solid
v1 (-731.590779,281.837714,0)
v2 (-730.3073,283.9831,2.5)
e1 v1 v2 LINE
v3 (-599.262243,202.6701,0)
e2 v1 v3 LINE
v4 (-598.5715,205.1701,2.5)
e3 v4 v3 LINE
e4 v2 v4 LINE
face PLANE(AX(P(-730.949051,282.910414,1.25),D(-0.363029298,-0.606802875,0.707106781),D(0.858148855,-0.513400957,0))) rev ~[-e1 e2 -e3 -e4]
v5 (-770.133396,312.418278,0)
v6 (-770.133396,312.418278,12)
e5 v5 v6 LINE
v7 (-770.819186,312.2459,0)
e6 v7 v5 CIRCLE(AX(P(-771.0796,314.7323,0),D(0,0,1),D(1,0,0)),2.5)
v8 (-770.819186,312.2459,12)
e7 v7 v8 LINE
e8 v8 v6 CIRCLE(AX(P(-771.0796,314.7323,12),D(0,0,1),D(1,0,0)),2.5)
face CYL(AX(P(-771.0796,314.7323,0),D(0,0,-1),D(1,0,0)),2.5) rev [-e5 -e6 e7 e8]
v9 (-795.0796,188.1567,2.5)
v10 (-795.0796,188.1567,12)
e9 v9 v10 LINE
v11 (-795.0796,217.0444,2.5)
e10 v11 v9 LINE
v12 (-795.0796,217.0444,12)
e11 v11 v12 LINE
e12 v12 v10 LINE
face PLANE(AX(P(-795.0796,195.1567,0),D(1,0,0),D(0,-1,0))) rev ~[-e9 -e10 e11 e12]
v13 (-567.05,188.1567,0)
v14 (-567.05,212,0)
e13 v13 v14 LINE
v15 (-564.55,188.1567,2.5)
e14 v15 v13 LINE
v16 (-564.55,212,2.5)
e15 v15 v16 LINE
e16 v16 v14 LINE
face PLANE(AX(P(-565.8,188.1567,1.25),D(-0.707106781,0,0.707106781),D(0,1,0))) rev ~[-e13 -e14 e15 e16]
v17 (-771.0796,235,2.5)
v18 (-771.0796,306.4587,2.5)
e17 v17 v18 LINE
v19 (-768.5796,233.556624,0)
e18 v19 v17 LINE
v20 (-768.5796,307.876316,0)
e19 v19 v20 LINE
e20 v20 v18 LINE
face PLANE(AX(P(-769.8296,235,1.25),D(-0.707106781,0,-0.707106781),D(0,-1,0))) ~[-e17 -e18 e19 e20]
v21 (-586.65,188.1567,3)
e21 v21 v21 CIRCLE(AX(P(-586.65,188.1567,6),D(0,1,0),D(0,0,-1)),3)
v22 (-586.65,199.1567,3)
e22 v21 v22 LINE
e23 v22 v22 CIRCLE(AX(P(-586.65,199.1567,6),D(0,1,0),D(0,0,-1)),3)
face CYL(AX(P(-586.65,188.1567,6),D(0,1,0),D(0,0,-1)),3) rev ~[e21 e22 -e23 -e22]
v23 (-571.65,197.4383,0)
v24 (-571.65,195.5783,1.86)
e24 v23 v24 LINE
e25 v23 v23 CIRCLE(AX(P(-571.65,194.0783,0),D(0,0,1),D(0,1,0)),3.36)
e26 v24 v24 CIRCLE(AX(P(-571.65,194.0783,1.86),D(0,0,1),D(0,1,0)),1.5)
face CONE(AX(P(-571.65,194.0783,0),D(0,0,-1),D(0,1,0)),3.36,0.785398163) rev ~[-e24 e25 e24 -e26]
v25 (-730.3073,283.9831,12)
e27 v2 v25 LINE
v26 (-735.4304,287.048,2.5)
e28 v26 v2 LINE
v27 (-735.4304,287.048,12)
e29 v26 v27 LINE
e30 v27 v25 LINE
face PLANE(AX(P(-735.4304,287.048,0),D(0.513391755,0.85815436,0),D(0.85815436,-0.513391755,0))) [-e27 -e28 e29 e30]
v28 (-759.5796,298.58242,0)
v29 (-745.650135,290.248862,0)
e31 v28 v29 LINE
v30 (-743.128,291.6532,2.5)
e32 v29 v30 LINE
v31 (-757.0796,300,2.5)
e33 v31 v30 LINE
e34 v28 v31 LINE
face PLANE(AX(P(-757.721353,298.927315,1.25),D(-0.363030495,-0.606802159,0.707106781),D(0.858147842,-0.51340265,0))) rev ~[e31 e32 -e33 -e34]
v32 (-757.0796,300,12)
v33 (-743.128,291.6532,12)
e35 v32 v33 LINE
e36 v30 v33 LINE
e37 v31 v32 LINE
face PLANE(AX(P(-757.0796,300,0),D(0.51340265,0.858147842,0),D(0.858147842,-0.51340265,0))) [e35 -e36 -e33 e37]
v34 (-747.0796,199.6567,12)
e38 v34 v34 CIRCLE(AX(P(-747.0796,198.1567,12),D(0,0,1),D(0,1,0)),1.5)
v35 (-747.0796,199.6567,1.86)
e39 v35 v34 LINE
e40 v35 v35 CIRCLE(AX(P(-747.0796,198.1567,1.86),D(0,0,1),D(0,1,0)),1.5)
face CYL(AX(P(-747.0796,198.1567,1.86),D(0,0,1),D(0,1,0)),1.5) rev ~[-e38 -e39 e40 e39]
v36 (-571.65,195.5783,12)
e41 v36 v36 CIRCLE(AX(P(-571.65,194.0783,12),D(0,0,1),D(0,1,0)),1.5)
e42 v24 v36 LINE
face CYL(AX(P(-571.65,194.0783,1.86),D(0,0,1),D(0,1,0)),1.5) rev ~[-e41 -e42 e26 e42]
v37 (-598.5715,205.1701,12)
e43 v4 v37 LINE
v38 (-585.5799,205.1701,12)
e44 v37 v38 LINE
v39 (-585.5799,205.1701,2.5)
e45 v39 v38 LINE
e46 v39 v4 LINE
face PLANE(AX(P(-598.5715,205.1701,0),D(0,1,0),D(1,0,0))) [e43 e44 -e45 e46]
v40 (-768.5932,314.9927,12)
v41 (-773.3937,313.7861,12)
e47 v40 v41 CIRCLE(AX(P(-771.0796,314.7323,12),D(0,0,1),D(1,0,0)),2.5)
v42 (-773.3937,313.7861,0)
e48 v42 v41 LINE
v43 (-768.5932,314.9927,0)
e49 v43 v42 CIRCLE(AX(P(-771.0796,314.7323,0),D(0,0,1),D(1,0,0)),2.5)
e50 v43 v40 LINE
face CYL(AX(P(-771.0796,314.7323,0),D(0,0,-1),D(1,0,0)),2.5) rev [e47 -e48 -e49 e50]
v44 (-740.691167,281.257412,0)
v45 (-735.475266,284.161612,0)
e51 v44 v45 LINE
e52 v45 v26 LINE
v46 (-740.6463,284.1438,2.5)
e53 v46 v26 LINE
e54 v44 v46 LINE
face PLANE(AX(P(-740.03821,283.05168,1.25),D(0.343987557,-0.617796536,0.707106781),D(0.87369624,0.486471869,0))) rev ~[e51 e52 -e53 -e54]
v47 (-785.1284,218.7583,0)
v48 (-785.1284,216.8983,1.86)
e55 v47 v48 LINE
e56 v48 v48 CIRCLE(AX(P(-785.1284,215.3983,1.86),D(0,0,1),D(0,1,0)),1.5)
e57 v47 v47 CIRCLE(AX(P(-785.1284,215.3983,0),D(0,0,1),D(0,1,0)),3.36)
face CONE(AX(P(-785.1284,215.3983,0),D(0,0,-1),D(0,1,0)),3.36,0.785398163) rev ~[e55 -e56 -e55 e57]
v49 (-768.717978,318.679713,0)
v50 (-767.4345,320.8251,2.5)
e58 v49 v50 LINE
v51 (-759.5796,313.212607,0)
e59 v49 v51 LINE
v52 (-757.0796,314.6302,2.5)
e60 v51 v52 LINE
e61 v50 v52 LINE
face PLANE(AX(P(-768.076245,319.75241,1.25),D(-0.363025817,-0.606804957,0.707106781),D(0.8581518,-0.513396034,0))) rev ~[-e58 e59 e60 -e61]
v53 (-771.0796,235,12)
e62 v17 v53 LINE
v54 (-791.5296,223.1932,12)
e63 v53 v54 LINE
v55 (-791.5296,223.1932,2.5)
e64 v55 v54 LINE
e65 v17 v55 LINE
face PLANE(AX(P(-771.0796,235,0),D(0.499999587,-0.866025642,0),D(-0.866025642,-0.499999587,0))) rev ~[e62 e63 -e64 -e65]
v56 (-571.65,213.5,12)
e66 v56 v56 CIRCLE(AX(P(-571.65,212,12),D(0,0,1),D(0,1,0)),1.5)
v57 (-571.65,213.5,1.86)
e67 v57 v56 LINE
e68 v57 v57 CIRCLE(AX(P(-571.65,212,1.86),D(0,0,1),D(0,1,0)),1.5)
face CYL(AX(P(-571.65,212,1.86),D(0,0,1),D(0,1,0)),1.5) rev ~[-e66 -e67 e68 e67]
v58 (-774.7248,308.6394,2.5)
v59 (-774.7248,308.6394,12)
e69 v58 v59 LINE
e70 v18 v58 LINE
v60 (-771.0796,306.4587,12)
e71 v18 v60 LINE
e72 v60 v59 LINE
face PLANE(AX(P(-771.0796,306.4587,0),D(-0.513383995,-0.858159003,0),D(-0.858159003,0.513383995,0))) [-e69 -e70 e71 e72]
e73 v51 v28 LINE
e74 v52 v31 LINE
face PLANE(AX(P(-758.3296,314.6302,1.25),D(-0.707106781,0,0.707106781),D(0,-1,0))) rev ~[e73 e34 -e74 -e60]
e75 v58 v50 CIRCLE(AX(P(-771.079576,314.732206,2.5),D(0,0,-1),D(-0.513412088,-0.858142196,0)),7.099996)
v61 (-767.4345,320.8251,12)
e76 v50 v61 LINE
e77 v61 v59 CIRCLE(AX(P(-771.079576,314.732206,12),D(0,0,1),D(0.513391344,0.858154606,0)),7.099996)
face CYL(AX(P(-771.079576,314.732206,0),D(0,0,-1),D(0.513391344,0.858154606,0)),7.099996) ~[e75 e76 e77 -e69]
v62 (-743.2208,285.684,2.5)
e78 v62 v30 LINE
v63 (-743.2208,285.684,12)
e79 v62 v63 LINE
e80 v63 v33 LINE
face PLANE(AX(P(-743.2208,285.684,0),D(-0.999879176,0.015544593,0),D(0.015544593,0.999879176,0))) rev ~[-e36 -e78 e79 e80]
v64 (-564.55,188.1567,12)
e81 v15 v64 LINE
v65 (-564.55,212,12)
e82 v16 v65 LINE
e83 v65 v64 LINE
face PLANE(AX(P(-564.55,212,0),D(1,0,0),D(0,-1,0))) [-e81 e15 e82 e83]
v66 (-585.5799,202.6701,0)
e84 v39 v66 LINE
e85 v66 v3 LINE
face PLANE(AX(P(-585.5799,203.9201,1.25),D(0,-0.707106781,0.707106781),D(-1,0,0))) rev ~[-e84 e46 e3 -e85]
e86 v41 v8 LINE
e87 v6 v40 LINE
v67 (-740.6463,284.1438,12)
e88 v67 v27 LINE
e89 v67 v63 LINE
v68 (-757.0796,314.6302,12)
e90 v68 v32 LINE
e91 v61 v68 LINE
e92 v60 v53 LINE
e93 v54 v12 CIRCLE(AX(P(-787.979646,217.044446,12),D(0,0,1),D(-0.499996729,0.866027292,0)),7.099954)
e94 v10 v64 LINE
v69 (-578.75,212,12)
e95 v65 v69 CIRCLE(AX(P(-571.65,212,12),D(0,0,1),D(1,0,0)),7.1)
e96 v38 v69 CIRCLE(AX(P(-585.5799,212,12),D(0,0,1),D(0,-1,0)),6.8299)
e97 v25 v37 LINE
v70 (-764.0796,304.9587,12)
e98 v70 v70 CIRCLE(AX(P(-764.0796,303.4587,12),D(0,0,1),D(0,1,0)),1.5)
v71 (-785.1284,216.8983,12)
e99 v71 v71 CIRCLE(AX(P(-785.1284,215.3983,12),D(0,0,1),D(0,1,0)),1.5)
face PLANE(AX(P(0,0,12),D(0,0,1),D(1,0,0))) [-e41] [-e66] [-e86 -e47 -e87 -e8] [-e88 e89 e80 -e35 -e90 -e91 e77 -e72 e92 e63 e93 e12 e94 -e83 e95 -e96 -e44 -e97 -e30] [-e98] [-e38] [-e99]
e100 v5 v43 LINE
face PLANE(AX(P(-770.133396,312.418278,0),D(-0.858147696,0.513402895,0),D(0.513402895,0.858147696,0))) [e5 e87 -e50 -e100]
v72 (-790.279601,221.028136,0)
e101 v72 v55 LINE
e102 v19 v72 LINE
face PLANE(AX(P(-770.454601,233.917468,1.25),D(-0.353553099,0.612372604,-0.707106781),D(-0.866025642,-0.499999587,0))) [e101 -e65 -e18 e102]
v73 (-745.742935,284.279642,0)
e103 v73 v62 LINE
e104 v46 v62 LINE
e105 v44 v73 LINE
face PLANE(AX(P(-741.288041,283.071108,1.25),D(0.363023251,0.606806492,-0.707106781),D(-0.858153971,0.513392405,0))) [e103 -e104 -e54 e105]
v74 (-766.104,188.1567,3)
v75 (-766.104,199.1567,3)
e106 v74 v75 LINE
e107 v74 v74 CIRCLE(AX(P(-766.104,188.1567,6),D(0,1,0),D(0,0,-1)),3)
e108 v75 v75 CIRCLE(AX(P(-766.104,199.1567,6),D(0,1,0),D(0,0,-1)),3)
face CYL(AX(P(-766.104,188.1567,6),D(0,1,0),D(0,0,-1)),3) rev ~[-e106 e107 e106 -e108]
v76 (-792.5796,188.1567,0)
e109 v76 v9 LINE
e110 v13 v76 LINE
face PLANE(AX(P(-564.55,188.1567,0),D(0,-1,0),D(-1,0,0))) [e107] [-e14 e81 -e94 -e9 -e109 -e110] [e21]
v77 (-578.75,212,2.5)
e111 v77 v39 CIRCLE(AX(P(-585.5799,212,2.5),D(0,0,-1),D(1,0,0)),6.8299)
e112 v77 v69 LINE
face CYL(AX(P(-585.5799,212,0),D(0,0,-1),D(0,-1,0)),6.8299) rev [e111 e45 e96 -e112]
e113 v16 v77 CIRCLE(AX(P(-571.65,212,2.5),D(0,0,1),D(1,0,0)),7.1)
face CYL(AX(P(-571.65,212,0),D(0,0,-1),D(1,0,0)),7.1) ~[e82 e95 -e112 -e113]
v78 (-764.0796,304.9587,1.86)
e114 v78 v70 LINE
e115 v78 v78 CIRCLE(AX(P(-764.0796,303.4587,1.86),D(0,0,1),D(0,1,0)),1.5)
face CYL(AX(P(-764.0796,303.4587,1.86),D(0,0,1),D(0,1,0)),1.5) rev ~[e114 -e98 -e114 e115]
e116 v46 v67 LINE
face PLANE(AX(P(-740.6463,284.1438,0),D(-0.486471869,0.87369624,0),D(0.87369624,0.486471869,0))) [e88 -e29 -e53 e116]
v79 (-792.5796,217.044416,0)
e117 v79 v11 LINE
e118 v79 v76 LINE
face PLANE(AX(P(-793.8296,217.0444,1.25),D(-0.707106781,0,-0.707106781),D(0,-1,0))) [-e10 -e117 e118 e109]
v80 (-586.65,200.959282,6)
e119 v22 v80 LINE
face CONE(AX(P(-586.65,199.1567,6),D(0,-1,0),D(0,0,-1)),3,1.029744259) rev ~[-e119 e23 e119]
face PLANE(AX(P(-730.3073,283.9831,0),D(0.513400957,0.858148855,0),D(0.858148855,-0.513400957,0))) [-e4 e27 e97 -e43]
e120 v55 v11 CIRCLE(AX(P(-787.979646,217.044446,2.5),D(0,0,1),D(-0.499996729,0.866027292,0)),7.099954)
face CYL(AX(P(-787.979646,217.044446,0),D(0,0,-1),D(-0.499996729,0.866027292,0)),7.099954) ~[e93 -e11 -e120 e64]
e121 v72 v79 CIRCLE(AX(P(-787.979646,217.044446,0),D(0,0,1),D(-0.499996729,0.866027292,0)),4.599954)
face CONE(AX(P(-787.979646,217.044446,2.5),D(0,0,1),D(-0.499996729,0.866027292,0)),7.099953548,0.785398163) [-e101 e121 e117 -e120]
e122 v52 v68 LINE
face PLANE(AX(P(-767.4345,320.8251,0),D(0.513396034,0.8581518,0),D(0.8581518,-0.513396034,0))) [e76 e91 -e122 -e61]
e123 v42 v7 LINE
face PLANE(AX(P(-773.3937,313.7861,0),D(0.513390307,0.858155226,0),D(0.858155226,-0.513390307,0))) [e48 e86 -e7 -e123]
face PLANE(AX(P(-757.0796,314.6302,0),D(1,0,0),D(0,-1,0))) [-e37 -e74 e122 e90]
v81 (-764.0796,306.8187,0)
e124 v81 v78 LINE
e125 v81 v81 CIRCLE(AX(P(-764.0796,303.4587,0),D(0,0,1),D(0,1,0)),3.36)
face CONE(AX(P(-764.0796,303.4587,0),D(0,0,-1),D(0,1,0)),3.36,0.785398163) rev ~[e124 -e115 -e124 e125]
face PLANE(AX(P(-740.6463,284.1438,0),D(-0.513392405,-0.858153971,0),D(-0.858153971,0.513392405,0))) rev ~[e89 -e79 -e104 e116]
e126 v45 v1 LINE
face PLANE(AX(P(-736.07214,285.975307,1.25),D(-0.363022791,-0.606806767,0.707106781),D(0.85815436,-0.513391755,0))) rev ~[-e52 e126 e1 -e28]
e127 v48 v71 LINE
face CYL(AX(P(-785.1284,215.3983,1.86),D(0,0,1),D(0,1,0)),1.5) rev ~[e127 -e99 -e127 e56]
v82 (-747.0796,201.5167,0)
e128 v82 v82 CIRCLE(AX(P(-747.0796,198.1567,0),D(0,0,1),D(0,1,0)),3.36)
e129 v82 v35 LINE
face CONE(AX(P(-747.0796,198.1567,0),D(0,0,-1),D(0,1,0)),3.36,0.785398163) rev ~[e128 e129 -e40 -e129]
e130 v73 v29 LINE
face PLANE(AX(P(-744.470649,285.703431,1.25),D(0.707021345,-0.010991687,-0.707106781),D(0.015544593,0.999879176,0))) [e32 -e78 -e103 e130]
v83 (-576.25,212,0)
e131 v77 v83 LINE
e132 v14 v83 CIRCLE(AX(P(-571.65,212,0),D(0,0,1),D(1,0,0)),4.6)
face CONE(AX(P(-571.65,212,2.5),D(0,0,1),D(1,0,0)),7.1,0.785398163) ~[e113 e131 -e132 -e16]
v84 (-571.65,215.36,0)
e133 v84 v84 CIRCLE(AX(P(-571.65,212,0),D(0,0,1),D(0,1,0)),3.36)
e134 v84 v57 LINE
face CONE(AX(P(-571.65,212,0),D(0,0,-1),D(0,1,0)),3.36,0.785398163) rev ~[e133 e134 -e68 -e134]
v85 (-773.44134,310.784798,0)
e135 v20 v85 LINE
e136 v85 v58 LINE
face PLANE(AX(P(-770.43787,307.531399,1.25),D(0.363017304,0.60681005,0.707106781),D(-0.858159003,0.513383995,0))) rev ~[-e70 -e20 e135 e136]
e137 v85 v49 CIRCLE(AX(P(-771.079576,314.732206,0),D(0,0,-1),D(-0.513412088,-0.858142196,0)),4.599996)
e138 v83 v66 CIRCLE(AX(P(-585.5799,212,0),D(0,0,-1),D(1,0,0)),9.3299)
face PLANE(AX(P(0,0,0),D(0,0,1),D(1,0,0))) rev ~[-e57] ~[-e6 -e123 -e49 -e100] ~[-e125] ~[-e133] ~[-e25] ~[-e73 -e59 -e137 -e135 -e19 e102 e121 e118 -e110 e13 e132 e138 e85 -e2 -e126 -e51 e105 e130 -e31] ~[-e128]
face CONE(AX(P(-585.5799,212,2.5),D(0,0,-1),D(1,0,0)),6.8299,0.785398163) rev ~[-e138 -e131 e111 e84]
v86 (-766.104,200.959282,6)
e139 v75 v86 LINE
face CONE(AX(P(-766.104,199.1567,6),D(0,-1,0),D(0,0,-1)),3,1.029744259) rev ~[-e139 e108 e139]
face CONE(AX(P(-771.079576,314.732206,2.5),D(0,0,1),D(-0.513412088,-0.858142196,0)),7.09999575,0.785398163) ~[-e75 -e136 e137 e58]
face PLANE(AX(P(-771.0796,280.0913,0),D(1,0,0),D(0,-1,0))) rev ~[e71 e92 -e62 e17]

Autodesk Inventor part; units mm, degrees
ref_plane "YZ Plane" through (0, 0, 0) normal (1, 0, 0) x (0, 1, 0)
ref_plane "XZ Plane" through (0, 0, 0) normal (0, 1, 0) x (-1, 0, 0)
ref_plane "XY Plane" through (0, 0, 0) normal (0, 0, 1) x (1, 0, 0)
sketch "Sketch3" plane through (0, 0, 0) normal (0, 0, 1) x (1, 0, 0)
  circle A0 centre (367.816, 50) radius 50 construction
  line L0 (367.816, 0) -> (512.7041, 0) construction
  line L1 (367.816, 50) -> (512.7041, 50) construction
  line L2 (367.816, 100) -> (512.7041, 100) construction
  line L3 (367.816, 50) -> (342.816, 6.6987) construction
  line L4 (367.816, 50) -> (324.5147, 25) construction
  line L5 (367.816, 50) -> (324.5147, 75) construction
  line L6 (342.816, 93.3013) -> (367.816, 50) construction
  line L7 (392.816, 93.3013) -> (367.816, 50) construction
  line L8 (411.1173, 75) -> (367.816, 50) construction
  line L9 (411.1173, 25) -> (367.816, 50) construction
  line L10 (392.816, 6.6987) -> (367.816, 50) construction
  line L11 (367.816, 0) -> (367.816, 100) construction
  line L12 (417.816, 50) -> (367.816, 50) construction
  line L13 (341.6361, 0) -> (341.6361, 100) construction
  line L14 (315.4561, 0) -> (315.4561, 100) construction
  line L15 (289.2762, 0) -> (289.2762, 100) construction
  line L16 (263.0963, 0) -> (263.0963, 100) construction
  line L17 (236.9163, 0) -> (236.9163, 100) construction
  line L18 (210.7364, 0) -> (210.7364, 100) construction
  line L19 (184.5564, 0) -> (184.5564, 100) construction
  line L20 (158.3765, 0) -> (158.3765, 100) construction
  circle A1 centre (315.4561, 50) radius 50 construction
  circle A2 centre (341.6361, 50) radius 50 construction
  circle A3 centre (289.2762, 50) radius 50 construction
  circle A4 centre (263.0963, 50) radius 50 construction
  circle A5 centre (236.9163, 50) radius 50 construction
  circle A6 centre (210.7364, 50) radius 50 construction
  line L21 (392.816, 6.6987) -> (512.7041, 6.6987) construction
  line L22 (411.1173, 25) -> (512.7041, 25) construction
  line L23 (411.1173, 75) -> (512.7041, 75) construction
  line L24 (411.1173, 75) -> (512.7041, 75) construction
  line L25 (392.816, 93.3013) -> (512.7041, 93.3013) construction
  line L26 (358.7574, 75) -> (339.2762, 50) construction
  line L27 (339.2762, 50) -> (306.3975, 25) construction
  line L28 (306.3975, 25) -> (261.9163, 6.6987) construction
  line L29 (261.9163, 6.6987) -> (210.7364, 0) construction
  line L30 (105.3682, -12.9392) -> (105.3682, 124.4333) construction
  line L31 (21.25, 0) -> (21.25, 12)
  line L32 (35.45, 12) -> (35.45, -11.8433)
  arc A7 (0, 0) -> (6.625, -9.8433) centre (10.625, 0) ccw
  arc A8 (14.625, -9.8433) -> (21.25, 0) centre (10.625, 0) ccw
  line L33 (35.45, -11.8433) -> (14.625, -11.8433)
  line L34 (6.625, -11.8433) -> (-195.0796, -11.8433)
  circle A9 centre (-144.26, 100.8473) radius 12.875 construction
  line L35 (6.625, -11.8433) -> (6.625, -9.8433)
  line L36 (14.625, -11.8433) -> (14.625, -9.8433)
  line L37 (411.1173, 75) -> (158.3765, 75) construction
  line L38 (367.816, 100) -> (158.3765, 100) construction
  line L39 (417.816, 50) -> (158.3765, 50) construction
  line L40 (411.1173, 25) -> (158.3765, 25) construction
  line L41 (392.816, 6.6987) -> (158.3765, 6.6987) construction
  line L42 (392.816, 93.3013) -> (158.3765, 93.3013) construction
  line L43 (358.7574, 75) -> (366.6361, 93.3013) construction
  line L44 (366.6361, 93.3013) -> (367.816, 100) construction
  spline S0 degree 4 poles (-157.0796, 100) (-157.0796, 88.9946) (-147.011, 72.6811) (-131.8577, 48.7932) (-88.4777, 17.6268) (-50.0176, 3.937) (-18.8717, 0) (0, 0) knots 0 0 0 0 0 0.264547 0.457223 0.66608 1 1 1 1 1
  line L45 (-157.0796, 100) -> (-157.0796, 38) construction
  line L46 (0, 0) -> (-157.0796, 0) construction
  line L47 (-144.26, 100.8473) -> (-157.135, 100.8473) construction
  circle A10 centre (-146.4546, 100) radius 10.625 construction
  line L48 (-146.4546, 100) -> (-157.0796, 100) construction
  line L49 (-141.0754, 84.4005) -> (-135.6205, 93.5183) construction
  line L50 (-141.0796, 132.0528) -> (-171.0796, 149.3733) construction
  line L51 (-171.0796, 149.3733) -> (-201.0796, 132.0528) construction
  line L52 (-141.0754, 84.4005) -> (-99.2801, 84.4005) construction
  line L53 (-201.0796, 132.0528) -> (-201.0796, 97.4118) construction
  line L54 (-201.0796, 97.4118) -> (-171.0796, 80.0913) construction
  line L55 (0, 0) -> (-157.0796, 93.9753) construction
  line L56 (-135.6205, 93.5183) -> (-137.3368, 94.5451) construction
  line L57 (-137.3368, 94.5451) -> (-143.2815, 84.6085) construction
  line L58 (-137.3368, 94.5451) -> (-171.0796, 114.7323) construction
  line L59 (-201.0796, 132.0528) -> (-171.0796, 114.7323) construction
  arc A11 (-137.3368, 94.5451) -> (-144.7045, 143.8948) centre (-171.0796, 114.7323) ccw construction
  arc A12 (-142.7917, 85.4273) -> (-147.1443, 147.6882) centre (-171.0796, 114.7323) ccw construction
  line L60 (-171.0796, 80.0913) -> (-171.0796, 35)
  circle A13 centre (-171.0796, 114.7323) radius 2.5 construction
  arc A14 (-167.4345, 120.8251) -> (-174.7248, 108.6394) centre (-171.0796, 114.7323) ccw construction
  line L61 (-167.4345, 120.8251) -> (-157.0796, 114.6302) construction
  line L62 (-171.0796, 80.0913) -> (-171.0796, 106.4587)
  line L63 (-171.0796, 106.4587) -> (-174.7248, 108.6394) construction
  line L64 (-171.0796, 35) -> (-191.5296, 23.1932)
  arc A15 (-191.5296, 23.1932) -> (-195.0796, 17.0444) centre (-187.9796, 17.0444) ccw
  line L65 (-195.0796, 17.0444) -> (-195.0796, -11.8433)
  arc A16 (35.45, 12) -> (21.25, 12) centre (28.35, 12) ccw
  line L66 (-157.0796, 114.6302) -> (-157.0796, 99.9865) construction
  circle A17 centre (-164.0796, 103.4587) radius 2.5
  line L67 (-171.0796, 103.4587) -> (-157.0796, 103.4587) construction
  circle A18 centre (-185.1284, 15.3983) radius 2.5
  line L68 (-185.1284, 15.3983) -> (-194.1284, 20.5944) construction
  circle A19 centre (-6, -5.9217) radius 2.5
  line L69 (-6, -11.8433) -> (-6, 0) construction
  circle A20 centre (28.35, 12) radius 2.5
  circle A21 centre (28.35, -5.9217) radius 2.5
  line L70 (-167.4345, 320.8251) -> (-157.0796, 314.6302) construction
  arc A22 (-167.4345, 320.8251) -> (-174.7248, 308.6394) centre (-171.0796, 314.7323) ccw construction
  circle A23 centre (-171.0796, 314.7323) radius 2.5 construction
  line L71 (-171.0796, 280.0913) -> (-171.0796, 306.4587)
  line L72 (-171.0796, 306.4587) -> (-174.7248, 308.6394) construction
  line L73 (-157.0796, 314.6302) -> (-157.0796, 299.9865) construction
  circle A24 centre (-164.0796, 303.4587) radius 2.5
  spline S1 degree 4 poles (-157.0796, 300) (-157.0796, 288.9946) (-147.0234, 272.6841) (-124.1789, 236.7977) (-70.8039, 208.0704) (-31.8865, 200.2943) (0, 200) knots 0 0 0 0 0 0.264547 0.457223 1 1 1 1 1 construction
  line L74 (-157.0796, 300) -> (-157.0796, 238) construction
  arc A25 (0, 200) -> (6.625, 190.1567) centre (10.625, 200) ccw
  line L75 (35.45, 212) -> (35.45, 188.1567)
  circle A26 centre (28.35, 212) radius 2.5
  circle A27 centre (28.35, 194.0783) radius 2.5
  arc A28 (35.45, 212) -> (21.25, 212) centre (28.35, 212) ccw
  line L76 (21.25, 200) -> (21.25, 212)
  line L77 (35.45, 188.1567) -> (14.625, 188.1567)
  arc A29 (14.625, 190.1567) -> (21.25, 200) centre (10.625, 200) ccw
  line L78 (14.625, 188.1567) -> (14.625, 190.1567)
  line L79 (-185.1284, 215.3983) -> (-194.1284, 220.5944) construction
  arc A30 (-191.5296, 223.1932) -> (-195.0796, 217.0444) centre (-187.9796, 217.0444) ccw
  line L80 (-195.0796, 217.0444) -> (-195.0796, 188.1567)
  line L81 (-171.0796, 235) -> (-191.5296, 223.1932)
  circle A31 centre (-185.1284, 215.3983) radius 2.5
  line L82 (-171.0796, 280.0913) -> (-171.0796, 235)
  line L83 (6.625, 188.1567) -> (-195.0796, 188.1567)
  line L84 (6.625, 188.1567) -> (6.625, 190.1567)
  line L85 (-137.3368, 294.5451) -> (-143.2815, 284.6085) construction
  line L86 (-141.0754, 284.4005) -> (-135.6205, 293.5183) construction
  line L87 (0, 200) -> (-157.0796, 293.9753)
  line L88 (-167.4345, 520.8251) -> (-157.0796, 514.6302) construction
  arc A32 (-167.4345, 520.8251) -> (-174.7248, 508.6394) centre (-171.0796, 514.7323) ccw construction
  circle A33 centre (-171.0796, 514.7323) radius 2.5 construction
  line L89 (-171.0796, 480.0913) -> (-171.0796, 506.4587)
  line L90 (-171.0796, 506.4587) -> (-174.7248, 508.6394) construction
  line L91 (-157.0796, 514.6302) -> (-157.0796, 499.9865) construction
  circle A34 centre (-164.0796, 503.4587) radius 2.5
  spline S2 degree 4 poles (-157.0796, 500) (-157.0796, 488.9946) (-147.0234, 472.6841) (-124.1789, 436.7977) (-70.8039, 408.0704) (-31.8865, 400.2943) (0, 400) knots 0 0 0 0 0 0.264547 0.457223 1 1 1 1 1 construction
  line L92 (-157.0796, 500) -> (-157.0796, 438)
  arc A35 (0, 400) -> (6.625, 390.1567) centre (10.625, 400) ccw
  line L93 (35.45, 412) -> (35.45, 388.1567)
  circle A36 centre (28.35, 412) radius 2.5
  circle A37 centre (28.35, 394.0783) radius 2.5
  arc A38 (35.45, 412) -> (21.25, 412) centre (28.35, 412) ccw
  line L94 (21.25, 400) -> (21.25, 412)
  line L95 (35.45, 388.1567) -> (14.625, 388.1567)
  arc A39 (14.625, 390.1567) -> (21.25, 400) centre (10.625, 400) ccw
  line L96 (14.625, 388.1567) -> (14.625, 390.1567)
  line L97 (-185.1284, 415.3983) -> (-194.1284, 420.5944) construction
  arc A40 (-191.5296, 423.1932) -> (-195.0796, 417.0444) centre (-187.9796, 417.0444) ccw
  line L98 (-195.0796, 417.0444) -> (-195.0796, 388.1567)
  line L99 (-171.0796, 435) -> (-191.5296, 423.1932)
  circle A41 centre (-185.1284, 415.3983) radius 2.5
  line L100 (-171.0796, 480.0913) -> (-171.0796, 435)
  line L101 (6.625, 388.1567) -> (-195.0796, 388.1567)
  line L102 (6.625, 388.1567) -> (6.625, 390.1567)
  line L103 (-137.3368, 494.5451) -> (-143.2815, 484.6085) construction
  line L104 (-141.0754, 484.4005) -> (-135.6205, 493.5183) construction
  line L105 (0, 400) -> (-157.0796, 493.9753) construction
  line L106 (-467.4345, 120.8251) -> (-457.0796, 114.6302) construction
  arc A42 (-467.4345, 120.8251) -> (-474.7248, 108.6394) centre (-471.0796, 114.7323) ccw construction
  circle A43 centre (-471.0796, 114.7323) radius 2.5 construction
  line L107 (-471.0796, 80.0913) -> (-471.0796, 106.4587)
  line L108 (-471.0796, 106.4587) -> (-474.7248, 108.6394) construction
  line L109 (-457.0796, 114.6302) -> (-457.0796, 99.9865) construction
  circle A44 centre (-464.0796, 103.4587) radius 2.5
  spline S3 degree 4 poles (-457.0796, 100) (-457.0796, 88.9946) (-447.0234, 72.6841) (-424.1789, 36.7977) (-370.8039, 8.0704) (-331.8865, 0.2943) (-300, 0) knots 0 0 0 0 0 0.264547 0.457223 1 1 1 1 1 construction
  line L110 (-457.0796, 100) -> (-457.0796, 38) construction
  arc A45 (-300, 0) -> (-293.375, -9.8433) centre (-289.375, 0) ccw construction
  line L111 (-264.55, 12) -> (-264.55, -11.8433)
  circle A46 centre (-271.65, 12) radius 2.5
  circle A47 centre (-271.65, -5.9217) radius 2.5
  arc A48 (-264.55, 12) -> (-278.75, 12) centre (-271.65, 12) ccw
  line L112 (-278.75, 0) -> (-278.75, 12) construction
  line L113 (-264.55, -11.8433) -> (-285.375, -11.8433)
  arc A49 (-285.375, -9.8433) -> (-278.75, 0) centre (-289.375, 0) ccw construction
  line L114 (-285.375, -11.8433) -> (-285.375, -9.8433) construction
  line L115 (-485.1284, 15.3983) -> (-494.1284, 20.5944) construction
  arc A50 (-491.5296, 23.1932) -> (-495.0796, 17.0444) centre (-487.9796, 17.0444) ccw
  line L116 (-495.0796, 17.0444) -> (-495.0796, -11.8433)
  line L117 (-471.0796, 35) -> (-491.5296, 23.1932)
  circle A51 centre (-485.1284, 15.3983) radius 2.5
  line L118 (-471.0796, 80.0913) -> (-471.0796, 35)
  line L119 (-293.375, -11.8433) -> (-495.0796, -11.8433)
  line L120 (-293.375, -11.8433) -> (-293.375, -9.8433) construction
  line L121 (-437.3368, 94.5451) -> (-443.2815, 84.6085) construction
  line L122 (-441.0754, 84.4005) -> (-435.6205, 93.5183) construction
  line L123 (-300, 0) -> (-457.0796, 93.9753) construction
  line L124 (-467.4345, 320.8251) -> (-457.0796, 314.6302) construction
  arc A52 (-467.4345, 320.8251) -> (-474.7248, 308.6394) centre (-471.0796, 314.7323) ccw construction
  circle A53 centre (-471.0796, 314.7323) radius 2.5 construction
  line L125 (-471.0796, 280.0913) -> (-471.0796, 306.4587)
  line L126 (-471.0796, 306.4587) -> (-474.7248, 308.6394) construction
  line L127 (-457.0796, 314.6302) -> (-457.0796, 299.9865) construction
  circle A54 centre (-464.0796, 303.4587) radius 2.5
  spline S4 degree 4 poles (-457.0796, 300) (-457.0796, 288.9946) (-447.0234, 272.6841) (-424.1789, 236.7977) (-370.8039, 208.0704) (-331.8865, 200.2943) (-300, 200) knots 0 0 0 0 0 0.264547 0.457223 1 1 1 1 1 construction
  line L128 (-457.0796, 300) -> (-457.0796, 238) construction
  arc A55 (-300, 200) -> (-293.375, 190.1567) centre (-289.375, 200) ccw construction
  line L129 (-264.55, 212) -> (-264.55, 188.1567)
  circle A56 centre (-271.65, 212) radius 2.5
  circle A57 centre (-271.65, 194.0783) radius 2.5
  arc A58 (-264.55, 212) -> (-278.75, 212) centre (-271.65, 212) ccw
  line L130 (-278.75, 200) -> (-278.75, 212) construction
  line L131 (-264.55, 188.1567) -> (-285.375, 188.1567)
  arc A59 (-285.375, 190.1567) -> (-278.75, 200) centre (-289.375, 200) ccw construction
  line L132 (-285.375, 188.1567) -> (-285.375, 190.1567) construction
  line L133 (-485.1284, 215.3983) -> (-494.1284, 220.5944) construction
  arc A60 (-491.5296, 223.1932) -> (-495.0796, 217.0444) centre (-487.9796, 217.0444) ccw
  line L134 (-495.0796, 217.0444) -> (-495.0796, 188.1567)
  line L135 (-471.0796, 235) -> (-491.5296, 223.1932)
  circle A61 centre (-485.1284, 215.3983) radius 2.5
  line L136 (-471.0796, 280.0913) -> (-471.0796, 235)
  line L137 (-293.375, 188.1567) -> (-495.0796, 188.1567)
  line L138 (-293.375, 188.1567) -> (-293.375, 190.1567) construction
  line L139 (-437.3368, 294.5451) -> (-443.2815, 284.6085) construction
  line L140 (-441.0754, 284.4005) -> (-435.6205, 293.5183) construction
  line L141 (-300, 200) -> (-457.0796, 293.9753) construction
  line L142 (-467.4345, 520.8251) -> (-457.0796, 514.6302)
  arc A62 (-467.4345, 520.8251) -> (-474.7248, 508.6394) centre (-471.0796, 514.7323) ccw
  circle A63 centre (-471.0796, 514.7323) radius 2.5
  line L143 (-471.0796, 480.0913) -> (-471.0796, 506.4587)
  line L144 (-471.0796, 506.4587) -> (-474.7248, 508.6394)
  line L145 (-457.0796, 514.6302) -> (-457.0796, 499.9865)
  circle A64 centre (-464.0796, 503.4587) radius 2.5
  spline S5 degree 4 poles (-457.0796, 500) (-457.0796, 488.9946) (-447.0234, 472.6841) (-424.1789, 436.7977) (-370.8039, 408.0704) (-331.8865, 400.2943) (-300, 400) knots 0 0 0 0 0 0.264547 0.457223 1 1 1 1 1 construction
  line L146 (-457.0796, 500) -> (-457.0796, 438) construction
  arc A65 (-300, 400) -> (-293.375, 390.1567) centre (-289.375, 400) ccw construction
  line L147 (-264.55, 412) -> (-264.55, 388.1567) construction
  circle A66 centre (-271.65, 412) radius 2.5
  circle A67 centre (-271.65, 394.0783) radius 2.5
  arc A68 (-264.55, 412) -> (-278.75, 412) centre (-271.65, 412) ccw
  line L148 (-278.75, 400) -> (-278.75, 412) construction
  line L149 (-264.55, 388.1567) -> (-285.375, 388.1567)
  arc A69 (-285.375, 390.1567) -> (-278.75, 400) centre (-289.375, 400) ccw construction
  line L150 (-285.375, 388.1567) -> (-285.375, 390.1567) construction
  line L151 (-485.1284, 415.3983) -> (-494.1284, 420.5944) construction
  arc A70 (-491.5296, 423.1932) -> (-495.0796, 417.0444) centre (-487.9796, 417.0444) ccw
  line L152 (-495.0796, 417.0444) -> (-495.0796, 388.1567) construction
  line L153 (-471.0796, 435) -> (-491.5296, 423.1932)
  circle A71 centre (-485.1284, 415.3983) radius 2.5
  line L154 (-471.0796, 480.0913) -> (-471.0796, 435)
  line L155 (-293.375, 388.1567) -> (-495.0796, 388.1567)
  line L156 (-293.375, 388.1567) -> (-293.375, 390.1567) construction
  line L157 (-437.3368, 494.5451) -> (-443.2815, 484.6085) construction
  line L158 (-441.0754, 484.4005) -> (-435.6205, 493.5183) construction
  line L159 (-300, 400) -> (-457.0796, 493.9753) construction
  line L160 (-435.4304, 87.048) -> (-430.3073, 83.9831)
  line L161 (-430.3073, 83.9831) -> (-430.3073, 78.0131)
  line L162 (-457.0796, 100) -> (-443.128, 91.6532)
  line L163 (-443.2208, 85.684) -> (-443.128, 91.6532)
  line L164 (-440.6463, 84.1438) -> (-435.4304, 87.048)
  line L165 (-440.6463, 84.1438) -> (-443.2208, 85.684)
  line L166 (-430.3073, 78.0131) -> (-436.0283, 74.7101)
  line L167 (-436.0283, 74.7101) -> (-436.0283, 68.1041)
  spline S6 degree 4 poles (-439.3753, 72.7777) (-420.1522, 45.3403) (-398.6357, 22.4496) (-337.1208, 4.2654) (-300, 5.1701) knots 0 0 0 0 0 1 1 1 1 1
  line L168 (-293.375, -11.8433) -> (-285.375, -11.8433)
  line L169 (-157.0796, 293.9753) -> (-157.0796, 300)
  line L170 (-293.375, 188.1567) -> (-285.375, 188.1567)
  arc A72 (-157.0796, 438) -> (-119.0796, 400) centre (-119.0796, 438) ccw
  line L171 (-119.0796, 400) -> (0, 400)
  line L172 (-457.0796, 500) -> (-457.0796, 438) construction
  line L173 (-419.0796, 400) -> (-300, 400) construction
  arc A73 (-457.0796, 438) -> (-419.0796, 400) centre (-419.0796, 438) ccw construction
  line L174 (-457.0796, 300) -> (-443.128, 291.6532)
  line L175 (-443.2208, 285.684) -> (-443.128, 291.6532)
  line L176 (-440.6463, 284.1438) -> (-443.2208, 285.684)
  line L177 (-440.6463, 284.1438) -> (-435.4304, 287.048)
  line L178 (-435.4304, 287.048) -> (-430.3073, 283.9831)
  line L179 (-430.3073, 283.9831) -> (-430.3073, 278.0131) construction
  line L180 (-430.3073, 278.0131) -> (-436.0283, 274.7101) construction
  line L181 (-457.0796, 500) -> (-443.128, 491.6532)
  line L182 (-443.2208, 485.684) -> (-443.128, 491.6532)
  line L183 (-440.6463, 484.1438) -> (-443.2208, 485.684)
  line L184 (-440.6463, 484.1438) -> (-435.4304, 487.048)
  line L185 (-435.4304, 487.048) -> (-430.3073, 483.9831)
  line L186 (-430.3073, 483.9831) -> (-430.3073, 478.0131)
  line L187 (-430.3073, 478.0131) -> (-436.0283, 474.7101)
  line L188 (-430.3073, 283.9831) -> (-298.5715, 205.1701)
  line L189 (-293.375, 388.1567) -> (-285.375, 388.1567)
  line L190 (-300, 5.1701) -> (-285.5799, 5.1701)
  arc A74 (-285.5799, 5.1701) -> (-278.75, 12) centre (-285.5799, 12) ccw
  line L191 (-298.5715, 205.1701) -> (-285.5799, 205.1701)
  arc A75 (-285.5799, 205.1701) -> (-278.75, 212) centre (-285.5799, 212) ccw
  line L192 (-436.0283, 474.7101) -> (-451.9095, 465.5411)
  line L193 (-451.9095, 465.5411) -> (-451.9095, 438)
  arc A76 (-451.9095, 438) -> (-419.0796, 405.1701) centre (-419.0796, 438) ccw
  line L194 (-419.0796, 405.1701) -> (-285.5799, 405.1701)
  arc A77 (-285.5799, 405.1701) -> (-278.75, 412) centre (-285.5799, 412) ccw
  line L195 (-495.0796, 388.1567) -> (-514.2796, 388.1567)
  line L196 (-514.2796, 388.1567) -> (-514.2796, 392.1567)
  line L197 (-514.2796, 392.1567) -> (-498.0796, 392.1567)
  arc A78 (-498.0796, 392.1567) -> (-495.0796, 395.1567) centre (-498.0796, 395.1567) ccw
  line L198 (-495.0796, 395.1567) -> (-495.0796, 417.0444)
  line L199 (-499.0796, 388.1567) -> (-510.2796, 388.1567) construction
  line L200 (-510.2796, 388.1567) -> (-510.2796, 392.1567) construction
  line L201 (-510.2796, 392.1567) -> (-499.0796, 392.1567) construction
  line L202 (-499.0796, 392.1567) -> (-499.0796, 388.1567) construction
  line L203 (-499.0796, 388.1567) -> (-510.2796, 392.1567) construction
  line L204 (-510.2796, 388.1567) -> (-499.0796, 392.1567) construction
  arc A79 (-600, 200) -> (-593.375, 190.1567) centre (-589.375, 200) ccw construction
  line L205 (-564.55, 212) -> (-564.55, 188.1567)
  circle A80 centre (-571.65, 212) radius 2.5
  circle A81 centre (-571.65, 194.0783) radius 2.5
  arc A82 (-564.55, 212) -> (-578.75, 212) centre (-571.65, 212) ccw
  line L206 (-578.75, 200) -> (-578.75, 212) construction
  line L207 (-564.55, 188.1567) -> (-585.375, 188.1567)
  arc A83 (-585.375, 190.1567) -> (-578.75, 200) centre (-589.375, 200) ccw construction
  line L208 (-585.375, 188.1567) -> (-585.375, 190.1567) construction
  line L209 (-593.375, 188.1567) -> (-593.375, 190.1567) construction
  arc A84 (-585.5799, 205.1701) -> (-578.75, 212) centre (-585.5799, 212) ccw
  line L210 (-593.375, 188.1567) -> (-585.375, 188.1567)
  line L211 (-598.5715, 205.1701) -> (-585.5799, 205.1701)
  arc A85 (-791.5296, 223.1932) -> (-795.0796, 217.0444) centre (-787.9796, 217.0444) ccw
  line L212 (-785.1284, 215.3983) -> (-794.1284, 220.5944) construction
  circle A86 centre (-785.1284, 215.3983) radius 2.5
  line L213 (-771.0796, 235) -> (-791.5296, 223.1932)
  line L214 (-795.0796, 217.0444) -> (-795.0796, 188.1567)
  line L215 (-730.3073, 278.0131) -> (-736.0283, 274.7101) construction
  line L216 (-757.0796, 300) -> (-757.0796, 238) construction
  line L217 (-730.3073, 283.9831) -> (-730.3073, 278.0131) construction
  line L218 (-730.3073, 283.9831) -> (-598.5715, 205.1701)
  line L219 (-600, 200) -> (-757.0796, 293.9753) construction
  spline S7 degree 4 poles (-757.0796, 300) (-757.0796, 288.9946) (-747.0234, 272.6841) (-724.1789, 236.7977) (-670.8039, 208.0704) (-631.8865, 200.2943) (-600, 200) knots 0 0 0 0 0 0.264547 0.457223 1 1 1 1 1 construction
  line L220 (-593.375, 188.1567) -> (-795.0796, 188.1567)
  line L221 (-771.0796, 280.0913) -> (-771.0796, 235)
  line L222 (-757.0796, 300) -> (-743.128, 291.6532)
  line L223 (-743.2208, 285.684) -> (-743.128, 291.6532)
  line L224 (-740.6463, 284.1438) -> (-743.2208, 285.684)
  line L225 (-737.3368, 294.5451) -> (-743.2815, 284.6085) construction
  line L226 (-741.0754, 284.4005) -> (-735.6205, 293.5183) construction
  line L227 (-740.6463, 284.1438) -> (-735.4304, 287.048)
  line L228 (-735.4304, 287.048) -> (-730.3073, 283.9831)
  line L229 (-767.4345, 320.8251) -> (-757.0796, 314.6302)
  line L230 (-771.0796, 280.0913) -> (-771.0796, 306.4587)
  line L231 (-757.0796, 314.6302) -> (-757.0796, 299.9865)
  circle A87 centre (-764.0796, 303.4587) radius 2.5
  line L232 (-771.0796, 306.4587) -> (-774.7248, 308.6394)
  circle A88 centre (-771.0796, 314.7323) radius 2.5
  arc A89 (-767.4345, 320.8251) -> (-774.7248, 308.6394) centre (-771.0796, 314.7323) ccw
  line L233 (-795.0796, 188.1567) -> (-814.2796, 188.1567)
  line L234 (-814.2796, 188.1567) -> (-814.2796, 192.1567)
  line L235 (-814.2796, 192.1567) -> (-798.0796, 192.1567)
  arc A90 (-798.0796, 192.1567) -> (-795.0796, 195.1567) centre (-798.0796, 195.1567) ccw
  line L236 (-795.0796, 195.1567) -> (-795.0796, 217.0444)
  line L237 (-799.0796, 188.1567) -> (-810.2796, 188.1567) construction
  line L238 (-810.2796, 188.1567) -> (-810.2796, 192.1567) construction
  line L239 (-810.2796, 192.1567) -> (-799.0796, 192.1567) construction
  line L240 (-799.0796, 192.1567) -> (-799.0796, 188.1567) construction
  line L241 (-799.0796, 188.1567) -> (-810.2796, 192.1567) construction
  line L242 (-810.2796, 188.1567) -> (-799.0796, 192.1567) construction
  line L243 (-495.0796, 587.6927) -> (-264.55, 587.6927) construction
  line L244 (-379.8148, 587.6927) -> (-379.8148, 614.3146) construction
  line L245 (-795.0796, 438) -> (-564.55, 438) construction
  line L246 (-679.8148, 438) -> (-679.8148, 492.8294) construction
  arc A91 (-564.55, 195.1567) -> (-561.55, 192.1567) centre (-561.55, 195.1567) ccw
  line L247 (-545.35, 192.1567) -> (-561.55, 192.1567)
  line L248 (-545.35, 188.1567) -> (-545.35, 192.1567)
  line L249 (-560.55, 192.1567) -> (-560.55, 188.1567) construction
  line L250 (-560.55, 188.1567) -> (-549.35, 188.1567) construction
  line L251 (-564.55, 188.1567) -> (-545.35, 188.1567)
  line L252 (-549.35, 188.1567) -> (-549.35, 192.1567) construction
  line L253 (-549.35, 192.1567) -> (-560.55, 192.1567) construction
  line L254 (-560.55, 188.1567) -> (-549.35, 192.1567) construction
  line L255 (-549.35, 188.1567) -> (-560.55, 192.1567) construction
  line L256 (-564.55, 195.1567) -> (-564.55, 212)
  circle A92 centre (-147.0796, 398.1567) radius 2.5
  circle A93 centre (-147.0796, 198.1567) radius 2.5
  circle A94 centre (-147.0796, -1.8433) radius 2.5
  circle A95 centre (-447.0796, 398.1567) radius 2.5
  circle A96 centre (-447.0796, 198.1567) radius 2.5
  circle A97 centre (-447.0796, -1.8433) radius 2.5
  circle A98 centre (-747.0796, 398.1567) radius 2.5 construction
  circle A99 centre (-747.0796, 198.1567) radius 2.5
  circle A100 centre (-747.0796, -1.8433) radius 2.5 construction
  line L257 (-264.55, 388.1567) -> (-245.35, 388.1567)
  line L258 (-245.35, 388.1567) -> (-245.35, 392.1567)
  line L259 (-245.35, 392.1567) -> (-261.55, 392.1567)
  arc A101 (-264.55, 395.1567) -> (-261.55, 392.1567) centre (-261.55, 395.1567) ccw
  line L260 (-260.55, 388.1567) -> (-249.35, 388.1567) construction
  line L261 (-249.35, 388.1567) -> (-249.35, 392.1567) construction
  line L262 (-249.35, 392.1567) -> (-260.55, 392.1567) construction
  line L263 (-260.55, 392.1567) -> (-260.55, 388.1567) construction
  line L264 (-260.55, 388.1567) -> (-249.35, 392.1567) construction
  line L265 (-249.35, 388.1567) -> (-260.55, 392.1567) construction
  line L266 (-264.55, 412) -> (-264.55, 395.1567)
  arc A102 (-157.0796, 106.4587) -> (-171.0796, 106.4587) centre (-164.0796, 106.4587) ccw
  line L267 (-157.0796, 106.4587) -> (-157.0796, 100)
  arc A103 (-157.0796, 306.4587) -> (-171.0796, 306.4587) centre (-164.0796, 306.4587) ccw
  line L268 (-157.0796, 306.4587) -> (-157.0796, 300)
  arc A104 (-157.0796, 506.4587) -> (-171.0796, 506.4587) centre (-164.0796, 506.4587) ccw
  line L269 (-157.0796, 506.4587) -> (-157.0796, 500)
  arc A105 (-457.0796, 106.4587) -> (-471.0796, 106.4587) centre (-464.0796, 106.4587) ccw
  line L270 (-457.0796, 106.4587) -> (-457.0796, 100)
  arc A106 (-457.0796, 306.4587) -> (-471.0796, 306.4587) centre (-464.0796, 306.4587) ccw
  line L271 (-457.0796, 306.4587) -> (-457.0796, 300)
  arc A107 (-457.0796, 506.4587) -> (-471.0796, 506.4587) centre (-464.0796, 506.4587) ccw construction
  line L272 (-457.0796, 506.4587) -> (-457.0796, 500) construction
  circle A108 centre (-771.0796, 314.7323) radius 2 construction
  line L273 (-773.3937, 313.7861) -> (-770.3901, 311.9892)
  line L274 (-770.3901, 311.9892) -> (-768.5932, 314.9927)
  point P0 (158.3765, 0)
  point P1 (-148.021, 75)
  point P2 (-128.5398, 50)
  point P3 (-95.6611, 25)
  point P4 (-51.1799, 6.6987)
  point P5 (-155.8997, 93.3013)
  point P6 (-148.021, 275)
  point P7 (-128.5398, 250)
  point P8 (-95.6611, 225)
  point P9 (-51.1799, 206.6987)
  point P10 (-157.0796, 303.4587)
  point P11 (-157.0796, 200)
  point P12 (-171.0796, 303.4587)
  point P13 (-6, 188.1567)
  point P14 (-142.7917, 285.4273)
  point P15 (-148.021, 475)
  point P16 (-128.5398, 450)
  point P17 (-95.6611, 425)
  point P18 (-51.1799, 406.6987)
  point P19 (-157.0796, 503.4587)
  point P20 (-157.0796, 400)
  point P21 (-171.0796, 503.4587)
  point P22 (-6, 388.1567)
  point P23 (-142.7917, 485.4273)
  point P24 (-448.021, 75)
  point P25 (-428.5398, 50)
  point P26 (-395.6611, 25)
  point P27 (-351.1799, 6.6987)
  point P28 (-457.0796, 103.4587)
  point P29 (-457.0796, 0)
  point P30 (-471.0796, 103.4587)
  point P31 (-306, -11.8433)
  point P32 (-442.7917, 85.4273)
  point P33 (-448.021, 275)
  point P34 (-428.5398, 250)
  point P35 (-395.6611, 225)
  point P36 (-351.1799, 206.6987)
  point P37 (-457.0796, 303.4587)
  point P38 (-457.0796, 200)
  point P39 (-471.0796, 303.4587)
  point P40 (-306, 188.1567)
  point P41 (-442.7917, 285.4273)
  point P42 (-448.021, 475)
  point P43 (-428.5398, 450)
  point P44 (-395.6611, 425)
  point P45 (-351.1799, 406.6987)
  point P46 (-457.0796, 503.4587)
  point P47 (-457.0796, 400)
  point P48 (-471.0796, 503.4587)
  point P49 (-306, 388.1567)
  point P50 (-442.7917, 485.4273)
  point P51 (-421.2258, 50.7726)
  point P52 (-392.6255, 29.6644)
  point P53 (-346.6709, 11.6004)
  point P54 (-436.0267, 68.102)
  point P55 (-457.0796, 503.4587)
  point P56 (-504.6796, 390.1567)
  point P57 (-606, 188.1567)
  point P58 (-757.0796, 200)
  point P59 (-748.021, 275)
  point P60 (-728.5398, 250)
  point P61 (-757.0796, 303.4587)
  point P62 (-695.6611, 225)
  point P63 (-651.1799, 206.6987)
  point P64 (-742.7917, 285.4273)
  point P65 (-771.0796, 303.4587)
  point P66 (-804.6796, 190.1567)
  point P67 (-564.55, 188.1567)
  point P68 (-554.95, 190.1567)
  point P69 (-254.95, 390.1567)
  point P70 (-795.0796, 217.0444)
  point P71 (-770.1334, 312.4183)
  point P72 (-770.8192, 312.2459)
  dimension "d43" = 25.75
  dimension "diameter" = 100
  dimension "d8" = 26.1799
  dimension "d14" = 30
  dimension "d15" = 30
  dimension "d16" = 30
  dimension "d32" = 10.625
  dimension "d47" = 8
  dimension "d49" = 2
  dimension "d53" = 21.25
  dimension "d62" = 20.825
  dimension "d123" = 120
  dimension "d126" = 59.109
  dimension "d137" = 2
  dimension "d138" = 90
  dimension "d139" = 90
  dimension "d141" = 7.1
  dimension "d142" = 14
  dimension "d143" = 7.1
  dimension "d144" = 12
  dimension "d145" = 5
  dimension "d146" = 35
  dimension "d147" = 24
  dimension "hole" = 5
  dimension "d155" = 5
  dimension "d156" = 9
  dimension "d157" = 5
  dimension "d158" = 6
  dimension "d159" = 5
  dimension "d160" = 5
  dimension "d241" = 120.891
  dimension "d244" = 120
  dimension "d245" = 30
  dimension "d246" = 3
  dimension "d249" = 200
  dimension "d252" = 300
  dimension "d255" = 120
  dimension "d256" = 5.1701
  dimension "d259" = 0.5
  dimension "d260" = 0.5
  dimension "d261" = 120
  dimension "d262" = 120
  dimension "d264" = 5.1701
  dimension "d265" = 38
  dimension "d268" = 300
  dimension "d275" = 200
  dimension "d288" = 5.1701
  dimension "d289" = 5.1701
  dimension "d290" = 5.1701
  dimension "d291" = 5.1701
  dimension "d292" = 11.2
  dimension "d293" = 4
  dimension "d294" = 4
  dimension "d296" = 3
  dimension "d299" = 300
  dimension "d324" = 11.2
  dimension "d325" = 4
  dimension "d326" = 4
  dimension "d328" = 3
  dimension "d330" = 5
  dimension "d331" = 10
  dimension "d332" = 10
  dimension "d335" = 200
  dimension "d338" = 300
  dimension "d341" = 7.1
  dimension "d342" = 4.6
sketch "Sketch5" plane through (0, 0, 0) normal (0, 0, 1) x (1, 0, 0)
  circle A0 centre (-171.0796, 114.7323) radius 2
  arc A1 (-168.5126, 119.023) -> (-173.6466, 110.4415) centre (-171.0796, 114.7323) ccw construction
  line L0 (-173.6466, 110.4415) -> (-168.5126, 119.023) construction
  line L1 (-137.3368, 94.5451) -> (-171.0796, 114.7323) construction
  line L2 (-137.3368, 94.5451) -> (-143.2815, 84.6085) construction
  line L3 (-141.0754, 84.4005) -> (-135.6205, 93.5183) construction
  line L4 (-142.7917, 85.4273) -> (-141.0754, 84.4005) construction
  line L5 (-173.6466, 110.4415) -> (-138.1875, 89.2276) construction
  line L6 (-138.1875, 89.2276) -> (-133.0535, 97.8091)
  line L7 (-133.0535, 97.8091) -> (-168.5126, 119.023) construction
  line L8 (-159.6382, 113.7138) -> (-159.6382, 107.8873)
  line L9 (-159.6382, 107.8873) -> (-145.3456, 99.3365)
  line L10 (-133.0535, 97.8091) -> (-140.2116, 102.0915)
  line L11 (-152.4919, 103.6119) -> (-153.6918, 101.6062)
  line L12 (-140.2116, 102.0915) -> (-145.3456, 99.3365)
  line L13 (-159.6382, 113.7138) -> (-168.5126, 119.023)
  line L14 (-135.6205, 93.5183) -> (-169.3633, 113.7055) construction
  line L15 (-168.5126, 119.023) -> (-189.9664, 131.858)
  arc A2 (-189.9664, 131.858) -> (-195.1004, 123.2766) centre (-192.5334, 127.5673) ccw
  line L16 (-195.1004, 123.2766) -> (-173.6466, 110.4415)
  line L17 (-142.7917, 85.4273) -> (-141.0754, 84.4005)
  line L18 (-141.0754, 84.4005) -> (-138.1875, 89.2276)
  line L19 (-142.7917, 85.4273) -> (-142.6907, 91.9217)
  line L20 (-142.6907, 91.9217) -> (-173.6466, 110.4415)
  arc A3 (-141.0754, 84.4005) -> (-138.014, 141.6941) centre (-171.0796, 114.7323) ccw construction
  point P0 (0, 0)
  dimension "d346" = 4
  dimension "d347" = 3
  dimension "d356" = 25
  dimension "d357" = 120
extrude "Extrusion3" add sketch "Sketch3" along normal blind 12 contours L205 L207 L210 L220 L214 A85 L213 L221 L230 L232 A89 L229 L231 L222 L223 L224 L227 L228 L218 L211 A84 A82 | A80 | A81 | A86 | A87 | A88 L274 | L274 L273 A88 | L273 A88 | A99 picked at (-770.4439, 312.2034)
chamfer "Chamfer1" distance 2.5 angle 45 17 edges at (-564.55, 200.0783, 0) (-571.65, 219.1, 0) (-580.7504, 207.1705, 0) (-592.0757, 205.1701, 0) (-667.001, 246.1091, 0) (-743.1744, 288.6686, 0) (-741.9335, 284.9139, 0) (-738.0384, 285.5959, 0) (-750.1038, 295.8266, 0) (-757.0796, 307.3151, 0) (-762.2571, 317.7277, 0) (-777.1725, 318.3774, 0) (-772.9022, 307.549, 0) (-771.0796, 270.7293, 0) (-781.3046, 229.0966, 0) (-794.1284, 220.5944, 0) (-795.0796, 202.6006, 0)
hole "Hole3" at (-571.65, 212, 0) at (-571.65, 194.0783, 0) at (-747.0796, 198.1567, 0) at (-785.1284, 215.3983, 0) at (-764.0796, 303.4587, 0) direction (0, 0, 1) diameter 3 end through all countersink diameter 6.72 countersink angle 90
sketch "Sketch8" plane through (-795.0796, 188.1567, 12) normal (0, -1, 0) x (1, 0, 0)
  circle A0 centre (208.4296, -6) radius 3
  line L0 (223.4296, -17.5611) -> (223.4296, -12) construction
  line L1 (226.7896, -12) -> (220.0696, -12) construction
  line L2 (223.4296, -12) -> (223.4296, 0) construction
  line L3 (0, 0) -> (230.5296, 0) construction
  line L4 (230.5296, 0) -> (230.5296, -12) construction
  circle A1 centre (28.9756, -6) radius 3
  line L5 (48, -25.2259) -> (48, -12) construction
  line L6 (51.36, -12) -> (44.64, -12) construction
  line L7 (48, 0) -> (48, -12) construction
  line L8 (46.5, 0) -> (49.5, 0) construction
  line L9 (9.9512, -42.4686) -> (9.9512, -12) construction
  line L10 (13.3112, -12) -> (6.5912, -12) construction
  line L11 (9.9512, -12) -> (9.9512, 0) construction
  line L12 (48, -6) -> (9.9512, -6) construction
  point P0 (230.5296, -6)
  dimension "d388" = 15
  dimension "d389" = 6
hole "Hole4" at (-586.65, 188.1567, 6) at (-766.104, 188.1567, 6) direction (0, 1, 0) diameter 6 depth 11 tip angle 118
thread "Thread1" size "M6x1" class "6H" standard "ANSI Metric M Profile" full length
thread "Thread2" size "M6x1" class "6H" standard "ANSI Metric M Profile" full length
properties part number "REARRAIL-V2"
